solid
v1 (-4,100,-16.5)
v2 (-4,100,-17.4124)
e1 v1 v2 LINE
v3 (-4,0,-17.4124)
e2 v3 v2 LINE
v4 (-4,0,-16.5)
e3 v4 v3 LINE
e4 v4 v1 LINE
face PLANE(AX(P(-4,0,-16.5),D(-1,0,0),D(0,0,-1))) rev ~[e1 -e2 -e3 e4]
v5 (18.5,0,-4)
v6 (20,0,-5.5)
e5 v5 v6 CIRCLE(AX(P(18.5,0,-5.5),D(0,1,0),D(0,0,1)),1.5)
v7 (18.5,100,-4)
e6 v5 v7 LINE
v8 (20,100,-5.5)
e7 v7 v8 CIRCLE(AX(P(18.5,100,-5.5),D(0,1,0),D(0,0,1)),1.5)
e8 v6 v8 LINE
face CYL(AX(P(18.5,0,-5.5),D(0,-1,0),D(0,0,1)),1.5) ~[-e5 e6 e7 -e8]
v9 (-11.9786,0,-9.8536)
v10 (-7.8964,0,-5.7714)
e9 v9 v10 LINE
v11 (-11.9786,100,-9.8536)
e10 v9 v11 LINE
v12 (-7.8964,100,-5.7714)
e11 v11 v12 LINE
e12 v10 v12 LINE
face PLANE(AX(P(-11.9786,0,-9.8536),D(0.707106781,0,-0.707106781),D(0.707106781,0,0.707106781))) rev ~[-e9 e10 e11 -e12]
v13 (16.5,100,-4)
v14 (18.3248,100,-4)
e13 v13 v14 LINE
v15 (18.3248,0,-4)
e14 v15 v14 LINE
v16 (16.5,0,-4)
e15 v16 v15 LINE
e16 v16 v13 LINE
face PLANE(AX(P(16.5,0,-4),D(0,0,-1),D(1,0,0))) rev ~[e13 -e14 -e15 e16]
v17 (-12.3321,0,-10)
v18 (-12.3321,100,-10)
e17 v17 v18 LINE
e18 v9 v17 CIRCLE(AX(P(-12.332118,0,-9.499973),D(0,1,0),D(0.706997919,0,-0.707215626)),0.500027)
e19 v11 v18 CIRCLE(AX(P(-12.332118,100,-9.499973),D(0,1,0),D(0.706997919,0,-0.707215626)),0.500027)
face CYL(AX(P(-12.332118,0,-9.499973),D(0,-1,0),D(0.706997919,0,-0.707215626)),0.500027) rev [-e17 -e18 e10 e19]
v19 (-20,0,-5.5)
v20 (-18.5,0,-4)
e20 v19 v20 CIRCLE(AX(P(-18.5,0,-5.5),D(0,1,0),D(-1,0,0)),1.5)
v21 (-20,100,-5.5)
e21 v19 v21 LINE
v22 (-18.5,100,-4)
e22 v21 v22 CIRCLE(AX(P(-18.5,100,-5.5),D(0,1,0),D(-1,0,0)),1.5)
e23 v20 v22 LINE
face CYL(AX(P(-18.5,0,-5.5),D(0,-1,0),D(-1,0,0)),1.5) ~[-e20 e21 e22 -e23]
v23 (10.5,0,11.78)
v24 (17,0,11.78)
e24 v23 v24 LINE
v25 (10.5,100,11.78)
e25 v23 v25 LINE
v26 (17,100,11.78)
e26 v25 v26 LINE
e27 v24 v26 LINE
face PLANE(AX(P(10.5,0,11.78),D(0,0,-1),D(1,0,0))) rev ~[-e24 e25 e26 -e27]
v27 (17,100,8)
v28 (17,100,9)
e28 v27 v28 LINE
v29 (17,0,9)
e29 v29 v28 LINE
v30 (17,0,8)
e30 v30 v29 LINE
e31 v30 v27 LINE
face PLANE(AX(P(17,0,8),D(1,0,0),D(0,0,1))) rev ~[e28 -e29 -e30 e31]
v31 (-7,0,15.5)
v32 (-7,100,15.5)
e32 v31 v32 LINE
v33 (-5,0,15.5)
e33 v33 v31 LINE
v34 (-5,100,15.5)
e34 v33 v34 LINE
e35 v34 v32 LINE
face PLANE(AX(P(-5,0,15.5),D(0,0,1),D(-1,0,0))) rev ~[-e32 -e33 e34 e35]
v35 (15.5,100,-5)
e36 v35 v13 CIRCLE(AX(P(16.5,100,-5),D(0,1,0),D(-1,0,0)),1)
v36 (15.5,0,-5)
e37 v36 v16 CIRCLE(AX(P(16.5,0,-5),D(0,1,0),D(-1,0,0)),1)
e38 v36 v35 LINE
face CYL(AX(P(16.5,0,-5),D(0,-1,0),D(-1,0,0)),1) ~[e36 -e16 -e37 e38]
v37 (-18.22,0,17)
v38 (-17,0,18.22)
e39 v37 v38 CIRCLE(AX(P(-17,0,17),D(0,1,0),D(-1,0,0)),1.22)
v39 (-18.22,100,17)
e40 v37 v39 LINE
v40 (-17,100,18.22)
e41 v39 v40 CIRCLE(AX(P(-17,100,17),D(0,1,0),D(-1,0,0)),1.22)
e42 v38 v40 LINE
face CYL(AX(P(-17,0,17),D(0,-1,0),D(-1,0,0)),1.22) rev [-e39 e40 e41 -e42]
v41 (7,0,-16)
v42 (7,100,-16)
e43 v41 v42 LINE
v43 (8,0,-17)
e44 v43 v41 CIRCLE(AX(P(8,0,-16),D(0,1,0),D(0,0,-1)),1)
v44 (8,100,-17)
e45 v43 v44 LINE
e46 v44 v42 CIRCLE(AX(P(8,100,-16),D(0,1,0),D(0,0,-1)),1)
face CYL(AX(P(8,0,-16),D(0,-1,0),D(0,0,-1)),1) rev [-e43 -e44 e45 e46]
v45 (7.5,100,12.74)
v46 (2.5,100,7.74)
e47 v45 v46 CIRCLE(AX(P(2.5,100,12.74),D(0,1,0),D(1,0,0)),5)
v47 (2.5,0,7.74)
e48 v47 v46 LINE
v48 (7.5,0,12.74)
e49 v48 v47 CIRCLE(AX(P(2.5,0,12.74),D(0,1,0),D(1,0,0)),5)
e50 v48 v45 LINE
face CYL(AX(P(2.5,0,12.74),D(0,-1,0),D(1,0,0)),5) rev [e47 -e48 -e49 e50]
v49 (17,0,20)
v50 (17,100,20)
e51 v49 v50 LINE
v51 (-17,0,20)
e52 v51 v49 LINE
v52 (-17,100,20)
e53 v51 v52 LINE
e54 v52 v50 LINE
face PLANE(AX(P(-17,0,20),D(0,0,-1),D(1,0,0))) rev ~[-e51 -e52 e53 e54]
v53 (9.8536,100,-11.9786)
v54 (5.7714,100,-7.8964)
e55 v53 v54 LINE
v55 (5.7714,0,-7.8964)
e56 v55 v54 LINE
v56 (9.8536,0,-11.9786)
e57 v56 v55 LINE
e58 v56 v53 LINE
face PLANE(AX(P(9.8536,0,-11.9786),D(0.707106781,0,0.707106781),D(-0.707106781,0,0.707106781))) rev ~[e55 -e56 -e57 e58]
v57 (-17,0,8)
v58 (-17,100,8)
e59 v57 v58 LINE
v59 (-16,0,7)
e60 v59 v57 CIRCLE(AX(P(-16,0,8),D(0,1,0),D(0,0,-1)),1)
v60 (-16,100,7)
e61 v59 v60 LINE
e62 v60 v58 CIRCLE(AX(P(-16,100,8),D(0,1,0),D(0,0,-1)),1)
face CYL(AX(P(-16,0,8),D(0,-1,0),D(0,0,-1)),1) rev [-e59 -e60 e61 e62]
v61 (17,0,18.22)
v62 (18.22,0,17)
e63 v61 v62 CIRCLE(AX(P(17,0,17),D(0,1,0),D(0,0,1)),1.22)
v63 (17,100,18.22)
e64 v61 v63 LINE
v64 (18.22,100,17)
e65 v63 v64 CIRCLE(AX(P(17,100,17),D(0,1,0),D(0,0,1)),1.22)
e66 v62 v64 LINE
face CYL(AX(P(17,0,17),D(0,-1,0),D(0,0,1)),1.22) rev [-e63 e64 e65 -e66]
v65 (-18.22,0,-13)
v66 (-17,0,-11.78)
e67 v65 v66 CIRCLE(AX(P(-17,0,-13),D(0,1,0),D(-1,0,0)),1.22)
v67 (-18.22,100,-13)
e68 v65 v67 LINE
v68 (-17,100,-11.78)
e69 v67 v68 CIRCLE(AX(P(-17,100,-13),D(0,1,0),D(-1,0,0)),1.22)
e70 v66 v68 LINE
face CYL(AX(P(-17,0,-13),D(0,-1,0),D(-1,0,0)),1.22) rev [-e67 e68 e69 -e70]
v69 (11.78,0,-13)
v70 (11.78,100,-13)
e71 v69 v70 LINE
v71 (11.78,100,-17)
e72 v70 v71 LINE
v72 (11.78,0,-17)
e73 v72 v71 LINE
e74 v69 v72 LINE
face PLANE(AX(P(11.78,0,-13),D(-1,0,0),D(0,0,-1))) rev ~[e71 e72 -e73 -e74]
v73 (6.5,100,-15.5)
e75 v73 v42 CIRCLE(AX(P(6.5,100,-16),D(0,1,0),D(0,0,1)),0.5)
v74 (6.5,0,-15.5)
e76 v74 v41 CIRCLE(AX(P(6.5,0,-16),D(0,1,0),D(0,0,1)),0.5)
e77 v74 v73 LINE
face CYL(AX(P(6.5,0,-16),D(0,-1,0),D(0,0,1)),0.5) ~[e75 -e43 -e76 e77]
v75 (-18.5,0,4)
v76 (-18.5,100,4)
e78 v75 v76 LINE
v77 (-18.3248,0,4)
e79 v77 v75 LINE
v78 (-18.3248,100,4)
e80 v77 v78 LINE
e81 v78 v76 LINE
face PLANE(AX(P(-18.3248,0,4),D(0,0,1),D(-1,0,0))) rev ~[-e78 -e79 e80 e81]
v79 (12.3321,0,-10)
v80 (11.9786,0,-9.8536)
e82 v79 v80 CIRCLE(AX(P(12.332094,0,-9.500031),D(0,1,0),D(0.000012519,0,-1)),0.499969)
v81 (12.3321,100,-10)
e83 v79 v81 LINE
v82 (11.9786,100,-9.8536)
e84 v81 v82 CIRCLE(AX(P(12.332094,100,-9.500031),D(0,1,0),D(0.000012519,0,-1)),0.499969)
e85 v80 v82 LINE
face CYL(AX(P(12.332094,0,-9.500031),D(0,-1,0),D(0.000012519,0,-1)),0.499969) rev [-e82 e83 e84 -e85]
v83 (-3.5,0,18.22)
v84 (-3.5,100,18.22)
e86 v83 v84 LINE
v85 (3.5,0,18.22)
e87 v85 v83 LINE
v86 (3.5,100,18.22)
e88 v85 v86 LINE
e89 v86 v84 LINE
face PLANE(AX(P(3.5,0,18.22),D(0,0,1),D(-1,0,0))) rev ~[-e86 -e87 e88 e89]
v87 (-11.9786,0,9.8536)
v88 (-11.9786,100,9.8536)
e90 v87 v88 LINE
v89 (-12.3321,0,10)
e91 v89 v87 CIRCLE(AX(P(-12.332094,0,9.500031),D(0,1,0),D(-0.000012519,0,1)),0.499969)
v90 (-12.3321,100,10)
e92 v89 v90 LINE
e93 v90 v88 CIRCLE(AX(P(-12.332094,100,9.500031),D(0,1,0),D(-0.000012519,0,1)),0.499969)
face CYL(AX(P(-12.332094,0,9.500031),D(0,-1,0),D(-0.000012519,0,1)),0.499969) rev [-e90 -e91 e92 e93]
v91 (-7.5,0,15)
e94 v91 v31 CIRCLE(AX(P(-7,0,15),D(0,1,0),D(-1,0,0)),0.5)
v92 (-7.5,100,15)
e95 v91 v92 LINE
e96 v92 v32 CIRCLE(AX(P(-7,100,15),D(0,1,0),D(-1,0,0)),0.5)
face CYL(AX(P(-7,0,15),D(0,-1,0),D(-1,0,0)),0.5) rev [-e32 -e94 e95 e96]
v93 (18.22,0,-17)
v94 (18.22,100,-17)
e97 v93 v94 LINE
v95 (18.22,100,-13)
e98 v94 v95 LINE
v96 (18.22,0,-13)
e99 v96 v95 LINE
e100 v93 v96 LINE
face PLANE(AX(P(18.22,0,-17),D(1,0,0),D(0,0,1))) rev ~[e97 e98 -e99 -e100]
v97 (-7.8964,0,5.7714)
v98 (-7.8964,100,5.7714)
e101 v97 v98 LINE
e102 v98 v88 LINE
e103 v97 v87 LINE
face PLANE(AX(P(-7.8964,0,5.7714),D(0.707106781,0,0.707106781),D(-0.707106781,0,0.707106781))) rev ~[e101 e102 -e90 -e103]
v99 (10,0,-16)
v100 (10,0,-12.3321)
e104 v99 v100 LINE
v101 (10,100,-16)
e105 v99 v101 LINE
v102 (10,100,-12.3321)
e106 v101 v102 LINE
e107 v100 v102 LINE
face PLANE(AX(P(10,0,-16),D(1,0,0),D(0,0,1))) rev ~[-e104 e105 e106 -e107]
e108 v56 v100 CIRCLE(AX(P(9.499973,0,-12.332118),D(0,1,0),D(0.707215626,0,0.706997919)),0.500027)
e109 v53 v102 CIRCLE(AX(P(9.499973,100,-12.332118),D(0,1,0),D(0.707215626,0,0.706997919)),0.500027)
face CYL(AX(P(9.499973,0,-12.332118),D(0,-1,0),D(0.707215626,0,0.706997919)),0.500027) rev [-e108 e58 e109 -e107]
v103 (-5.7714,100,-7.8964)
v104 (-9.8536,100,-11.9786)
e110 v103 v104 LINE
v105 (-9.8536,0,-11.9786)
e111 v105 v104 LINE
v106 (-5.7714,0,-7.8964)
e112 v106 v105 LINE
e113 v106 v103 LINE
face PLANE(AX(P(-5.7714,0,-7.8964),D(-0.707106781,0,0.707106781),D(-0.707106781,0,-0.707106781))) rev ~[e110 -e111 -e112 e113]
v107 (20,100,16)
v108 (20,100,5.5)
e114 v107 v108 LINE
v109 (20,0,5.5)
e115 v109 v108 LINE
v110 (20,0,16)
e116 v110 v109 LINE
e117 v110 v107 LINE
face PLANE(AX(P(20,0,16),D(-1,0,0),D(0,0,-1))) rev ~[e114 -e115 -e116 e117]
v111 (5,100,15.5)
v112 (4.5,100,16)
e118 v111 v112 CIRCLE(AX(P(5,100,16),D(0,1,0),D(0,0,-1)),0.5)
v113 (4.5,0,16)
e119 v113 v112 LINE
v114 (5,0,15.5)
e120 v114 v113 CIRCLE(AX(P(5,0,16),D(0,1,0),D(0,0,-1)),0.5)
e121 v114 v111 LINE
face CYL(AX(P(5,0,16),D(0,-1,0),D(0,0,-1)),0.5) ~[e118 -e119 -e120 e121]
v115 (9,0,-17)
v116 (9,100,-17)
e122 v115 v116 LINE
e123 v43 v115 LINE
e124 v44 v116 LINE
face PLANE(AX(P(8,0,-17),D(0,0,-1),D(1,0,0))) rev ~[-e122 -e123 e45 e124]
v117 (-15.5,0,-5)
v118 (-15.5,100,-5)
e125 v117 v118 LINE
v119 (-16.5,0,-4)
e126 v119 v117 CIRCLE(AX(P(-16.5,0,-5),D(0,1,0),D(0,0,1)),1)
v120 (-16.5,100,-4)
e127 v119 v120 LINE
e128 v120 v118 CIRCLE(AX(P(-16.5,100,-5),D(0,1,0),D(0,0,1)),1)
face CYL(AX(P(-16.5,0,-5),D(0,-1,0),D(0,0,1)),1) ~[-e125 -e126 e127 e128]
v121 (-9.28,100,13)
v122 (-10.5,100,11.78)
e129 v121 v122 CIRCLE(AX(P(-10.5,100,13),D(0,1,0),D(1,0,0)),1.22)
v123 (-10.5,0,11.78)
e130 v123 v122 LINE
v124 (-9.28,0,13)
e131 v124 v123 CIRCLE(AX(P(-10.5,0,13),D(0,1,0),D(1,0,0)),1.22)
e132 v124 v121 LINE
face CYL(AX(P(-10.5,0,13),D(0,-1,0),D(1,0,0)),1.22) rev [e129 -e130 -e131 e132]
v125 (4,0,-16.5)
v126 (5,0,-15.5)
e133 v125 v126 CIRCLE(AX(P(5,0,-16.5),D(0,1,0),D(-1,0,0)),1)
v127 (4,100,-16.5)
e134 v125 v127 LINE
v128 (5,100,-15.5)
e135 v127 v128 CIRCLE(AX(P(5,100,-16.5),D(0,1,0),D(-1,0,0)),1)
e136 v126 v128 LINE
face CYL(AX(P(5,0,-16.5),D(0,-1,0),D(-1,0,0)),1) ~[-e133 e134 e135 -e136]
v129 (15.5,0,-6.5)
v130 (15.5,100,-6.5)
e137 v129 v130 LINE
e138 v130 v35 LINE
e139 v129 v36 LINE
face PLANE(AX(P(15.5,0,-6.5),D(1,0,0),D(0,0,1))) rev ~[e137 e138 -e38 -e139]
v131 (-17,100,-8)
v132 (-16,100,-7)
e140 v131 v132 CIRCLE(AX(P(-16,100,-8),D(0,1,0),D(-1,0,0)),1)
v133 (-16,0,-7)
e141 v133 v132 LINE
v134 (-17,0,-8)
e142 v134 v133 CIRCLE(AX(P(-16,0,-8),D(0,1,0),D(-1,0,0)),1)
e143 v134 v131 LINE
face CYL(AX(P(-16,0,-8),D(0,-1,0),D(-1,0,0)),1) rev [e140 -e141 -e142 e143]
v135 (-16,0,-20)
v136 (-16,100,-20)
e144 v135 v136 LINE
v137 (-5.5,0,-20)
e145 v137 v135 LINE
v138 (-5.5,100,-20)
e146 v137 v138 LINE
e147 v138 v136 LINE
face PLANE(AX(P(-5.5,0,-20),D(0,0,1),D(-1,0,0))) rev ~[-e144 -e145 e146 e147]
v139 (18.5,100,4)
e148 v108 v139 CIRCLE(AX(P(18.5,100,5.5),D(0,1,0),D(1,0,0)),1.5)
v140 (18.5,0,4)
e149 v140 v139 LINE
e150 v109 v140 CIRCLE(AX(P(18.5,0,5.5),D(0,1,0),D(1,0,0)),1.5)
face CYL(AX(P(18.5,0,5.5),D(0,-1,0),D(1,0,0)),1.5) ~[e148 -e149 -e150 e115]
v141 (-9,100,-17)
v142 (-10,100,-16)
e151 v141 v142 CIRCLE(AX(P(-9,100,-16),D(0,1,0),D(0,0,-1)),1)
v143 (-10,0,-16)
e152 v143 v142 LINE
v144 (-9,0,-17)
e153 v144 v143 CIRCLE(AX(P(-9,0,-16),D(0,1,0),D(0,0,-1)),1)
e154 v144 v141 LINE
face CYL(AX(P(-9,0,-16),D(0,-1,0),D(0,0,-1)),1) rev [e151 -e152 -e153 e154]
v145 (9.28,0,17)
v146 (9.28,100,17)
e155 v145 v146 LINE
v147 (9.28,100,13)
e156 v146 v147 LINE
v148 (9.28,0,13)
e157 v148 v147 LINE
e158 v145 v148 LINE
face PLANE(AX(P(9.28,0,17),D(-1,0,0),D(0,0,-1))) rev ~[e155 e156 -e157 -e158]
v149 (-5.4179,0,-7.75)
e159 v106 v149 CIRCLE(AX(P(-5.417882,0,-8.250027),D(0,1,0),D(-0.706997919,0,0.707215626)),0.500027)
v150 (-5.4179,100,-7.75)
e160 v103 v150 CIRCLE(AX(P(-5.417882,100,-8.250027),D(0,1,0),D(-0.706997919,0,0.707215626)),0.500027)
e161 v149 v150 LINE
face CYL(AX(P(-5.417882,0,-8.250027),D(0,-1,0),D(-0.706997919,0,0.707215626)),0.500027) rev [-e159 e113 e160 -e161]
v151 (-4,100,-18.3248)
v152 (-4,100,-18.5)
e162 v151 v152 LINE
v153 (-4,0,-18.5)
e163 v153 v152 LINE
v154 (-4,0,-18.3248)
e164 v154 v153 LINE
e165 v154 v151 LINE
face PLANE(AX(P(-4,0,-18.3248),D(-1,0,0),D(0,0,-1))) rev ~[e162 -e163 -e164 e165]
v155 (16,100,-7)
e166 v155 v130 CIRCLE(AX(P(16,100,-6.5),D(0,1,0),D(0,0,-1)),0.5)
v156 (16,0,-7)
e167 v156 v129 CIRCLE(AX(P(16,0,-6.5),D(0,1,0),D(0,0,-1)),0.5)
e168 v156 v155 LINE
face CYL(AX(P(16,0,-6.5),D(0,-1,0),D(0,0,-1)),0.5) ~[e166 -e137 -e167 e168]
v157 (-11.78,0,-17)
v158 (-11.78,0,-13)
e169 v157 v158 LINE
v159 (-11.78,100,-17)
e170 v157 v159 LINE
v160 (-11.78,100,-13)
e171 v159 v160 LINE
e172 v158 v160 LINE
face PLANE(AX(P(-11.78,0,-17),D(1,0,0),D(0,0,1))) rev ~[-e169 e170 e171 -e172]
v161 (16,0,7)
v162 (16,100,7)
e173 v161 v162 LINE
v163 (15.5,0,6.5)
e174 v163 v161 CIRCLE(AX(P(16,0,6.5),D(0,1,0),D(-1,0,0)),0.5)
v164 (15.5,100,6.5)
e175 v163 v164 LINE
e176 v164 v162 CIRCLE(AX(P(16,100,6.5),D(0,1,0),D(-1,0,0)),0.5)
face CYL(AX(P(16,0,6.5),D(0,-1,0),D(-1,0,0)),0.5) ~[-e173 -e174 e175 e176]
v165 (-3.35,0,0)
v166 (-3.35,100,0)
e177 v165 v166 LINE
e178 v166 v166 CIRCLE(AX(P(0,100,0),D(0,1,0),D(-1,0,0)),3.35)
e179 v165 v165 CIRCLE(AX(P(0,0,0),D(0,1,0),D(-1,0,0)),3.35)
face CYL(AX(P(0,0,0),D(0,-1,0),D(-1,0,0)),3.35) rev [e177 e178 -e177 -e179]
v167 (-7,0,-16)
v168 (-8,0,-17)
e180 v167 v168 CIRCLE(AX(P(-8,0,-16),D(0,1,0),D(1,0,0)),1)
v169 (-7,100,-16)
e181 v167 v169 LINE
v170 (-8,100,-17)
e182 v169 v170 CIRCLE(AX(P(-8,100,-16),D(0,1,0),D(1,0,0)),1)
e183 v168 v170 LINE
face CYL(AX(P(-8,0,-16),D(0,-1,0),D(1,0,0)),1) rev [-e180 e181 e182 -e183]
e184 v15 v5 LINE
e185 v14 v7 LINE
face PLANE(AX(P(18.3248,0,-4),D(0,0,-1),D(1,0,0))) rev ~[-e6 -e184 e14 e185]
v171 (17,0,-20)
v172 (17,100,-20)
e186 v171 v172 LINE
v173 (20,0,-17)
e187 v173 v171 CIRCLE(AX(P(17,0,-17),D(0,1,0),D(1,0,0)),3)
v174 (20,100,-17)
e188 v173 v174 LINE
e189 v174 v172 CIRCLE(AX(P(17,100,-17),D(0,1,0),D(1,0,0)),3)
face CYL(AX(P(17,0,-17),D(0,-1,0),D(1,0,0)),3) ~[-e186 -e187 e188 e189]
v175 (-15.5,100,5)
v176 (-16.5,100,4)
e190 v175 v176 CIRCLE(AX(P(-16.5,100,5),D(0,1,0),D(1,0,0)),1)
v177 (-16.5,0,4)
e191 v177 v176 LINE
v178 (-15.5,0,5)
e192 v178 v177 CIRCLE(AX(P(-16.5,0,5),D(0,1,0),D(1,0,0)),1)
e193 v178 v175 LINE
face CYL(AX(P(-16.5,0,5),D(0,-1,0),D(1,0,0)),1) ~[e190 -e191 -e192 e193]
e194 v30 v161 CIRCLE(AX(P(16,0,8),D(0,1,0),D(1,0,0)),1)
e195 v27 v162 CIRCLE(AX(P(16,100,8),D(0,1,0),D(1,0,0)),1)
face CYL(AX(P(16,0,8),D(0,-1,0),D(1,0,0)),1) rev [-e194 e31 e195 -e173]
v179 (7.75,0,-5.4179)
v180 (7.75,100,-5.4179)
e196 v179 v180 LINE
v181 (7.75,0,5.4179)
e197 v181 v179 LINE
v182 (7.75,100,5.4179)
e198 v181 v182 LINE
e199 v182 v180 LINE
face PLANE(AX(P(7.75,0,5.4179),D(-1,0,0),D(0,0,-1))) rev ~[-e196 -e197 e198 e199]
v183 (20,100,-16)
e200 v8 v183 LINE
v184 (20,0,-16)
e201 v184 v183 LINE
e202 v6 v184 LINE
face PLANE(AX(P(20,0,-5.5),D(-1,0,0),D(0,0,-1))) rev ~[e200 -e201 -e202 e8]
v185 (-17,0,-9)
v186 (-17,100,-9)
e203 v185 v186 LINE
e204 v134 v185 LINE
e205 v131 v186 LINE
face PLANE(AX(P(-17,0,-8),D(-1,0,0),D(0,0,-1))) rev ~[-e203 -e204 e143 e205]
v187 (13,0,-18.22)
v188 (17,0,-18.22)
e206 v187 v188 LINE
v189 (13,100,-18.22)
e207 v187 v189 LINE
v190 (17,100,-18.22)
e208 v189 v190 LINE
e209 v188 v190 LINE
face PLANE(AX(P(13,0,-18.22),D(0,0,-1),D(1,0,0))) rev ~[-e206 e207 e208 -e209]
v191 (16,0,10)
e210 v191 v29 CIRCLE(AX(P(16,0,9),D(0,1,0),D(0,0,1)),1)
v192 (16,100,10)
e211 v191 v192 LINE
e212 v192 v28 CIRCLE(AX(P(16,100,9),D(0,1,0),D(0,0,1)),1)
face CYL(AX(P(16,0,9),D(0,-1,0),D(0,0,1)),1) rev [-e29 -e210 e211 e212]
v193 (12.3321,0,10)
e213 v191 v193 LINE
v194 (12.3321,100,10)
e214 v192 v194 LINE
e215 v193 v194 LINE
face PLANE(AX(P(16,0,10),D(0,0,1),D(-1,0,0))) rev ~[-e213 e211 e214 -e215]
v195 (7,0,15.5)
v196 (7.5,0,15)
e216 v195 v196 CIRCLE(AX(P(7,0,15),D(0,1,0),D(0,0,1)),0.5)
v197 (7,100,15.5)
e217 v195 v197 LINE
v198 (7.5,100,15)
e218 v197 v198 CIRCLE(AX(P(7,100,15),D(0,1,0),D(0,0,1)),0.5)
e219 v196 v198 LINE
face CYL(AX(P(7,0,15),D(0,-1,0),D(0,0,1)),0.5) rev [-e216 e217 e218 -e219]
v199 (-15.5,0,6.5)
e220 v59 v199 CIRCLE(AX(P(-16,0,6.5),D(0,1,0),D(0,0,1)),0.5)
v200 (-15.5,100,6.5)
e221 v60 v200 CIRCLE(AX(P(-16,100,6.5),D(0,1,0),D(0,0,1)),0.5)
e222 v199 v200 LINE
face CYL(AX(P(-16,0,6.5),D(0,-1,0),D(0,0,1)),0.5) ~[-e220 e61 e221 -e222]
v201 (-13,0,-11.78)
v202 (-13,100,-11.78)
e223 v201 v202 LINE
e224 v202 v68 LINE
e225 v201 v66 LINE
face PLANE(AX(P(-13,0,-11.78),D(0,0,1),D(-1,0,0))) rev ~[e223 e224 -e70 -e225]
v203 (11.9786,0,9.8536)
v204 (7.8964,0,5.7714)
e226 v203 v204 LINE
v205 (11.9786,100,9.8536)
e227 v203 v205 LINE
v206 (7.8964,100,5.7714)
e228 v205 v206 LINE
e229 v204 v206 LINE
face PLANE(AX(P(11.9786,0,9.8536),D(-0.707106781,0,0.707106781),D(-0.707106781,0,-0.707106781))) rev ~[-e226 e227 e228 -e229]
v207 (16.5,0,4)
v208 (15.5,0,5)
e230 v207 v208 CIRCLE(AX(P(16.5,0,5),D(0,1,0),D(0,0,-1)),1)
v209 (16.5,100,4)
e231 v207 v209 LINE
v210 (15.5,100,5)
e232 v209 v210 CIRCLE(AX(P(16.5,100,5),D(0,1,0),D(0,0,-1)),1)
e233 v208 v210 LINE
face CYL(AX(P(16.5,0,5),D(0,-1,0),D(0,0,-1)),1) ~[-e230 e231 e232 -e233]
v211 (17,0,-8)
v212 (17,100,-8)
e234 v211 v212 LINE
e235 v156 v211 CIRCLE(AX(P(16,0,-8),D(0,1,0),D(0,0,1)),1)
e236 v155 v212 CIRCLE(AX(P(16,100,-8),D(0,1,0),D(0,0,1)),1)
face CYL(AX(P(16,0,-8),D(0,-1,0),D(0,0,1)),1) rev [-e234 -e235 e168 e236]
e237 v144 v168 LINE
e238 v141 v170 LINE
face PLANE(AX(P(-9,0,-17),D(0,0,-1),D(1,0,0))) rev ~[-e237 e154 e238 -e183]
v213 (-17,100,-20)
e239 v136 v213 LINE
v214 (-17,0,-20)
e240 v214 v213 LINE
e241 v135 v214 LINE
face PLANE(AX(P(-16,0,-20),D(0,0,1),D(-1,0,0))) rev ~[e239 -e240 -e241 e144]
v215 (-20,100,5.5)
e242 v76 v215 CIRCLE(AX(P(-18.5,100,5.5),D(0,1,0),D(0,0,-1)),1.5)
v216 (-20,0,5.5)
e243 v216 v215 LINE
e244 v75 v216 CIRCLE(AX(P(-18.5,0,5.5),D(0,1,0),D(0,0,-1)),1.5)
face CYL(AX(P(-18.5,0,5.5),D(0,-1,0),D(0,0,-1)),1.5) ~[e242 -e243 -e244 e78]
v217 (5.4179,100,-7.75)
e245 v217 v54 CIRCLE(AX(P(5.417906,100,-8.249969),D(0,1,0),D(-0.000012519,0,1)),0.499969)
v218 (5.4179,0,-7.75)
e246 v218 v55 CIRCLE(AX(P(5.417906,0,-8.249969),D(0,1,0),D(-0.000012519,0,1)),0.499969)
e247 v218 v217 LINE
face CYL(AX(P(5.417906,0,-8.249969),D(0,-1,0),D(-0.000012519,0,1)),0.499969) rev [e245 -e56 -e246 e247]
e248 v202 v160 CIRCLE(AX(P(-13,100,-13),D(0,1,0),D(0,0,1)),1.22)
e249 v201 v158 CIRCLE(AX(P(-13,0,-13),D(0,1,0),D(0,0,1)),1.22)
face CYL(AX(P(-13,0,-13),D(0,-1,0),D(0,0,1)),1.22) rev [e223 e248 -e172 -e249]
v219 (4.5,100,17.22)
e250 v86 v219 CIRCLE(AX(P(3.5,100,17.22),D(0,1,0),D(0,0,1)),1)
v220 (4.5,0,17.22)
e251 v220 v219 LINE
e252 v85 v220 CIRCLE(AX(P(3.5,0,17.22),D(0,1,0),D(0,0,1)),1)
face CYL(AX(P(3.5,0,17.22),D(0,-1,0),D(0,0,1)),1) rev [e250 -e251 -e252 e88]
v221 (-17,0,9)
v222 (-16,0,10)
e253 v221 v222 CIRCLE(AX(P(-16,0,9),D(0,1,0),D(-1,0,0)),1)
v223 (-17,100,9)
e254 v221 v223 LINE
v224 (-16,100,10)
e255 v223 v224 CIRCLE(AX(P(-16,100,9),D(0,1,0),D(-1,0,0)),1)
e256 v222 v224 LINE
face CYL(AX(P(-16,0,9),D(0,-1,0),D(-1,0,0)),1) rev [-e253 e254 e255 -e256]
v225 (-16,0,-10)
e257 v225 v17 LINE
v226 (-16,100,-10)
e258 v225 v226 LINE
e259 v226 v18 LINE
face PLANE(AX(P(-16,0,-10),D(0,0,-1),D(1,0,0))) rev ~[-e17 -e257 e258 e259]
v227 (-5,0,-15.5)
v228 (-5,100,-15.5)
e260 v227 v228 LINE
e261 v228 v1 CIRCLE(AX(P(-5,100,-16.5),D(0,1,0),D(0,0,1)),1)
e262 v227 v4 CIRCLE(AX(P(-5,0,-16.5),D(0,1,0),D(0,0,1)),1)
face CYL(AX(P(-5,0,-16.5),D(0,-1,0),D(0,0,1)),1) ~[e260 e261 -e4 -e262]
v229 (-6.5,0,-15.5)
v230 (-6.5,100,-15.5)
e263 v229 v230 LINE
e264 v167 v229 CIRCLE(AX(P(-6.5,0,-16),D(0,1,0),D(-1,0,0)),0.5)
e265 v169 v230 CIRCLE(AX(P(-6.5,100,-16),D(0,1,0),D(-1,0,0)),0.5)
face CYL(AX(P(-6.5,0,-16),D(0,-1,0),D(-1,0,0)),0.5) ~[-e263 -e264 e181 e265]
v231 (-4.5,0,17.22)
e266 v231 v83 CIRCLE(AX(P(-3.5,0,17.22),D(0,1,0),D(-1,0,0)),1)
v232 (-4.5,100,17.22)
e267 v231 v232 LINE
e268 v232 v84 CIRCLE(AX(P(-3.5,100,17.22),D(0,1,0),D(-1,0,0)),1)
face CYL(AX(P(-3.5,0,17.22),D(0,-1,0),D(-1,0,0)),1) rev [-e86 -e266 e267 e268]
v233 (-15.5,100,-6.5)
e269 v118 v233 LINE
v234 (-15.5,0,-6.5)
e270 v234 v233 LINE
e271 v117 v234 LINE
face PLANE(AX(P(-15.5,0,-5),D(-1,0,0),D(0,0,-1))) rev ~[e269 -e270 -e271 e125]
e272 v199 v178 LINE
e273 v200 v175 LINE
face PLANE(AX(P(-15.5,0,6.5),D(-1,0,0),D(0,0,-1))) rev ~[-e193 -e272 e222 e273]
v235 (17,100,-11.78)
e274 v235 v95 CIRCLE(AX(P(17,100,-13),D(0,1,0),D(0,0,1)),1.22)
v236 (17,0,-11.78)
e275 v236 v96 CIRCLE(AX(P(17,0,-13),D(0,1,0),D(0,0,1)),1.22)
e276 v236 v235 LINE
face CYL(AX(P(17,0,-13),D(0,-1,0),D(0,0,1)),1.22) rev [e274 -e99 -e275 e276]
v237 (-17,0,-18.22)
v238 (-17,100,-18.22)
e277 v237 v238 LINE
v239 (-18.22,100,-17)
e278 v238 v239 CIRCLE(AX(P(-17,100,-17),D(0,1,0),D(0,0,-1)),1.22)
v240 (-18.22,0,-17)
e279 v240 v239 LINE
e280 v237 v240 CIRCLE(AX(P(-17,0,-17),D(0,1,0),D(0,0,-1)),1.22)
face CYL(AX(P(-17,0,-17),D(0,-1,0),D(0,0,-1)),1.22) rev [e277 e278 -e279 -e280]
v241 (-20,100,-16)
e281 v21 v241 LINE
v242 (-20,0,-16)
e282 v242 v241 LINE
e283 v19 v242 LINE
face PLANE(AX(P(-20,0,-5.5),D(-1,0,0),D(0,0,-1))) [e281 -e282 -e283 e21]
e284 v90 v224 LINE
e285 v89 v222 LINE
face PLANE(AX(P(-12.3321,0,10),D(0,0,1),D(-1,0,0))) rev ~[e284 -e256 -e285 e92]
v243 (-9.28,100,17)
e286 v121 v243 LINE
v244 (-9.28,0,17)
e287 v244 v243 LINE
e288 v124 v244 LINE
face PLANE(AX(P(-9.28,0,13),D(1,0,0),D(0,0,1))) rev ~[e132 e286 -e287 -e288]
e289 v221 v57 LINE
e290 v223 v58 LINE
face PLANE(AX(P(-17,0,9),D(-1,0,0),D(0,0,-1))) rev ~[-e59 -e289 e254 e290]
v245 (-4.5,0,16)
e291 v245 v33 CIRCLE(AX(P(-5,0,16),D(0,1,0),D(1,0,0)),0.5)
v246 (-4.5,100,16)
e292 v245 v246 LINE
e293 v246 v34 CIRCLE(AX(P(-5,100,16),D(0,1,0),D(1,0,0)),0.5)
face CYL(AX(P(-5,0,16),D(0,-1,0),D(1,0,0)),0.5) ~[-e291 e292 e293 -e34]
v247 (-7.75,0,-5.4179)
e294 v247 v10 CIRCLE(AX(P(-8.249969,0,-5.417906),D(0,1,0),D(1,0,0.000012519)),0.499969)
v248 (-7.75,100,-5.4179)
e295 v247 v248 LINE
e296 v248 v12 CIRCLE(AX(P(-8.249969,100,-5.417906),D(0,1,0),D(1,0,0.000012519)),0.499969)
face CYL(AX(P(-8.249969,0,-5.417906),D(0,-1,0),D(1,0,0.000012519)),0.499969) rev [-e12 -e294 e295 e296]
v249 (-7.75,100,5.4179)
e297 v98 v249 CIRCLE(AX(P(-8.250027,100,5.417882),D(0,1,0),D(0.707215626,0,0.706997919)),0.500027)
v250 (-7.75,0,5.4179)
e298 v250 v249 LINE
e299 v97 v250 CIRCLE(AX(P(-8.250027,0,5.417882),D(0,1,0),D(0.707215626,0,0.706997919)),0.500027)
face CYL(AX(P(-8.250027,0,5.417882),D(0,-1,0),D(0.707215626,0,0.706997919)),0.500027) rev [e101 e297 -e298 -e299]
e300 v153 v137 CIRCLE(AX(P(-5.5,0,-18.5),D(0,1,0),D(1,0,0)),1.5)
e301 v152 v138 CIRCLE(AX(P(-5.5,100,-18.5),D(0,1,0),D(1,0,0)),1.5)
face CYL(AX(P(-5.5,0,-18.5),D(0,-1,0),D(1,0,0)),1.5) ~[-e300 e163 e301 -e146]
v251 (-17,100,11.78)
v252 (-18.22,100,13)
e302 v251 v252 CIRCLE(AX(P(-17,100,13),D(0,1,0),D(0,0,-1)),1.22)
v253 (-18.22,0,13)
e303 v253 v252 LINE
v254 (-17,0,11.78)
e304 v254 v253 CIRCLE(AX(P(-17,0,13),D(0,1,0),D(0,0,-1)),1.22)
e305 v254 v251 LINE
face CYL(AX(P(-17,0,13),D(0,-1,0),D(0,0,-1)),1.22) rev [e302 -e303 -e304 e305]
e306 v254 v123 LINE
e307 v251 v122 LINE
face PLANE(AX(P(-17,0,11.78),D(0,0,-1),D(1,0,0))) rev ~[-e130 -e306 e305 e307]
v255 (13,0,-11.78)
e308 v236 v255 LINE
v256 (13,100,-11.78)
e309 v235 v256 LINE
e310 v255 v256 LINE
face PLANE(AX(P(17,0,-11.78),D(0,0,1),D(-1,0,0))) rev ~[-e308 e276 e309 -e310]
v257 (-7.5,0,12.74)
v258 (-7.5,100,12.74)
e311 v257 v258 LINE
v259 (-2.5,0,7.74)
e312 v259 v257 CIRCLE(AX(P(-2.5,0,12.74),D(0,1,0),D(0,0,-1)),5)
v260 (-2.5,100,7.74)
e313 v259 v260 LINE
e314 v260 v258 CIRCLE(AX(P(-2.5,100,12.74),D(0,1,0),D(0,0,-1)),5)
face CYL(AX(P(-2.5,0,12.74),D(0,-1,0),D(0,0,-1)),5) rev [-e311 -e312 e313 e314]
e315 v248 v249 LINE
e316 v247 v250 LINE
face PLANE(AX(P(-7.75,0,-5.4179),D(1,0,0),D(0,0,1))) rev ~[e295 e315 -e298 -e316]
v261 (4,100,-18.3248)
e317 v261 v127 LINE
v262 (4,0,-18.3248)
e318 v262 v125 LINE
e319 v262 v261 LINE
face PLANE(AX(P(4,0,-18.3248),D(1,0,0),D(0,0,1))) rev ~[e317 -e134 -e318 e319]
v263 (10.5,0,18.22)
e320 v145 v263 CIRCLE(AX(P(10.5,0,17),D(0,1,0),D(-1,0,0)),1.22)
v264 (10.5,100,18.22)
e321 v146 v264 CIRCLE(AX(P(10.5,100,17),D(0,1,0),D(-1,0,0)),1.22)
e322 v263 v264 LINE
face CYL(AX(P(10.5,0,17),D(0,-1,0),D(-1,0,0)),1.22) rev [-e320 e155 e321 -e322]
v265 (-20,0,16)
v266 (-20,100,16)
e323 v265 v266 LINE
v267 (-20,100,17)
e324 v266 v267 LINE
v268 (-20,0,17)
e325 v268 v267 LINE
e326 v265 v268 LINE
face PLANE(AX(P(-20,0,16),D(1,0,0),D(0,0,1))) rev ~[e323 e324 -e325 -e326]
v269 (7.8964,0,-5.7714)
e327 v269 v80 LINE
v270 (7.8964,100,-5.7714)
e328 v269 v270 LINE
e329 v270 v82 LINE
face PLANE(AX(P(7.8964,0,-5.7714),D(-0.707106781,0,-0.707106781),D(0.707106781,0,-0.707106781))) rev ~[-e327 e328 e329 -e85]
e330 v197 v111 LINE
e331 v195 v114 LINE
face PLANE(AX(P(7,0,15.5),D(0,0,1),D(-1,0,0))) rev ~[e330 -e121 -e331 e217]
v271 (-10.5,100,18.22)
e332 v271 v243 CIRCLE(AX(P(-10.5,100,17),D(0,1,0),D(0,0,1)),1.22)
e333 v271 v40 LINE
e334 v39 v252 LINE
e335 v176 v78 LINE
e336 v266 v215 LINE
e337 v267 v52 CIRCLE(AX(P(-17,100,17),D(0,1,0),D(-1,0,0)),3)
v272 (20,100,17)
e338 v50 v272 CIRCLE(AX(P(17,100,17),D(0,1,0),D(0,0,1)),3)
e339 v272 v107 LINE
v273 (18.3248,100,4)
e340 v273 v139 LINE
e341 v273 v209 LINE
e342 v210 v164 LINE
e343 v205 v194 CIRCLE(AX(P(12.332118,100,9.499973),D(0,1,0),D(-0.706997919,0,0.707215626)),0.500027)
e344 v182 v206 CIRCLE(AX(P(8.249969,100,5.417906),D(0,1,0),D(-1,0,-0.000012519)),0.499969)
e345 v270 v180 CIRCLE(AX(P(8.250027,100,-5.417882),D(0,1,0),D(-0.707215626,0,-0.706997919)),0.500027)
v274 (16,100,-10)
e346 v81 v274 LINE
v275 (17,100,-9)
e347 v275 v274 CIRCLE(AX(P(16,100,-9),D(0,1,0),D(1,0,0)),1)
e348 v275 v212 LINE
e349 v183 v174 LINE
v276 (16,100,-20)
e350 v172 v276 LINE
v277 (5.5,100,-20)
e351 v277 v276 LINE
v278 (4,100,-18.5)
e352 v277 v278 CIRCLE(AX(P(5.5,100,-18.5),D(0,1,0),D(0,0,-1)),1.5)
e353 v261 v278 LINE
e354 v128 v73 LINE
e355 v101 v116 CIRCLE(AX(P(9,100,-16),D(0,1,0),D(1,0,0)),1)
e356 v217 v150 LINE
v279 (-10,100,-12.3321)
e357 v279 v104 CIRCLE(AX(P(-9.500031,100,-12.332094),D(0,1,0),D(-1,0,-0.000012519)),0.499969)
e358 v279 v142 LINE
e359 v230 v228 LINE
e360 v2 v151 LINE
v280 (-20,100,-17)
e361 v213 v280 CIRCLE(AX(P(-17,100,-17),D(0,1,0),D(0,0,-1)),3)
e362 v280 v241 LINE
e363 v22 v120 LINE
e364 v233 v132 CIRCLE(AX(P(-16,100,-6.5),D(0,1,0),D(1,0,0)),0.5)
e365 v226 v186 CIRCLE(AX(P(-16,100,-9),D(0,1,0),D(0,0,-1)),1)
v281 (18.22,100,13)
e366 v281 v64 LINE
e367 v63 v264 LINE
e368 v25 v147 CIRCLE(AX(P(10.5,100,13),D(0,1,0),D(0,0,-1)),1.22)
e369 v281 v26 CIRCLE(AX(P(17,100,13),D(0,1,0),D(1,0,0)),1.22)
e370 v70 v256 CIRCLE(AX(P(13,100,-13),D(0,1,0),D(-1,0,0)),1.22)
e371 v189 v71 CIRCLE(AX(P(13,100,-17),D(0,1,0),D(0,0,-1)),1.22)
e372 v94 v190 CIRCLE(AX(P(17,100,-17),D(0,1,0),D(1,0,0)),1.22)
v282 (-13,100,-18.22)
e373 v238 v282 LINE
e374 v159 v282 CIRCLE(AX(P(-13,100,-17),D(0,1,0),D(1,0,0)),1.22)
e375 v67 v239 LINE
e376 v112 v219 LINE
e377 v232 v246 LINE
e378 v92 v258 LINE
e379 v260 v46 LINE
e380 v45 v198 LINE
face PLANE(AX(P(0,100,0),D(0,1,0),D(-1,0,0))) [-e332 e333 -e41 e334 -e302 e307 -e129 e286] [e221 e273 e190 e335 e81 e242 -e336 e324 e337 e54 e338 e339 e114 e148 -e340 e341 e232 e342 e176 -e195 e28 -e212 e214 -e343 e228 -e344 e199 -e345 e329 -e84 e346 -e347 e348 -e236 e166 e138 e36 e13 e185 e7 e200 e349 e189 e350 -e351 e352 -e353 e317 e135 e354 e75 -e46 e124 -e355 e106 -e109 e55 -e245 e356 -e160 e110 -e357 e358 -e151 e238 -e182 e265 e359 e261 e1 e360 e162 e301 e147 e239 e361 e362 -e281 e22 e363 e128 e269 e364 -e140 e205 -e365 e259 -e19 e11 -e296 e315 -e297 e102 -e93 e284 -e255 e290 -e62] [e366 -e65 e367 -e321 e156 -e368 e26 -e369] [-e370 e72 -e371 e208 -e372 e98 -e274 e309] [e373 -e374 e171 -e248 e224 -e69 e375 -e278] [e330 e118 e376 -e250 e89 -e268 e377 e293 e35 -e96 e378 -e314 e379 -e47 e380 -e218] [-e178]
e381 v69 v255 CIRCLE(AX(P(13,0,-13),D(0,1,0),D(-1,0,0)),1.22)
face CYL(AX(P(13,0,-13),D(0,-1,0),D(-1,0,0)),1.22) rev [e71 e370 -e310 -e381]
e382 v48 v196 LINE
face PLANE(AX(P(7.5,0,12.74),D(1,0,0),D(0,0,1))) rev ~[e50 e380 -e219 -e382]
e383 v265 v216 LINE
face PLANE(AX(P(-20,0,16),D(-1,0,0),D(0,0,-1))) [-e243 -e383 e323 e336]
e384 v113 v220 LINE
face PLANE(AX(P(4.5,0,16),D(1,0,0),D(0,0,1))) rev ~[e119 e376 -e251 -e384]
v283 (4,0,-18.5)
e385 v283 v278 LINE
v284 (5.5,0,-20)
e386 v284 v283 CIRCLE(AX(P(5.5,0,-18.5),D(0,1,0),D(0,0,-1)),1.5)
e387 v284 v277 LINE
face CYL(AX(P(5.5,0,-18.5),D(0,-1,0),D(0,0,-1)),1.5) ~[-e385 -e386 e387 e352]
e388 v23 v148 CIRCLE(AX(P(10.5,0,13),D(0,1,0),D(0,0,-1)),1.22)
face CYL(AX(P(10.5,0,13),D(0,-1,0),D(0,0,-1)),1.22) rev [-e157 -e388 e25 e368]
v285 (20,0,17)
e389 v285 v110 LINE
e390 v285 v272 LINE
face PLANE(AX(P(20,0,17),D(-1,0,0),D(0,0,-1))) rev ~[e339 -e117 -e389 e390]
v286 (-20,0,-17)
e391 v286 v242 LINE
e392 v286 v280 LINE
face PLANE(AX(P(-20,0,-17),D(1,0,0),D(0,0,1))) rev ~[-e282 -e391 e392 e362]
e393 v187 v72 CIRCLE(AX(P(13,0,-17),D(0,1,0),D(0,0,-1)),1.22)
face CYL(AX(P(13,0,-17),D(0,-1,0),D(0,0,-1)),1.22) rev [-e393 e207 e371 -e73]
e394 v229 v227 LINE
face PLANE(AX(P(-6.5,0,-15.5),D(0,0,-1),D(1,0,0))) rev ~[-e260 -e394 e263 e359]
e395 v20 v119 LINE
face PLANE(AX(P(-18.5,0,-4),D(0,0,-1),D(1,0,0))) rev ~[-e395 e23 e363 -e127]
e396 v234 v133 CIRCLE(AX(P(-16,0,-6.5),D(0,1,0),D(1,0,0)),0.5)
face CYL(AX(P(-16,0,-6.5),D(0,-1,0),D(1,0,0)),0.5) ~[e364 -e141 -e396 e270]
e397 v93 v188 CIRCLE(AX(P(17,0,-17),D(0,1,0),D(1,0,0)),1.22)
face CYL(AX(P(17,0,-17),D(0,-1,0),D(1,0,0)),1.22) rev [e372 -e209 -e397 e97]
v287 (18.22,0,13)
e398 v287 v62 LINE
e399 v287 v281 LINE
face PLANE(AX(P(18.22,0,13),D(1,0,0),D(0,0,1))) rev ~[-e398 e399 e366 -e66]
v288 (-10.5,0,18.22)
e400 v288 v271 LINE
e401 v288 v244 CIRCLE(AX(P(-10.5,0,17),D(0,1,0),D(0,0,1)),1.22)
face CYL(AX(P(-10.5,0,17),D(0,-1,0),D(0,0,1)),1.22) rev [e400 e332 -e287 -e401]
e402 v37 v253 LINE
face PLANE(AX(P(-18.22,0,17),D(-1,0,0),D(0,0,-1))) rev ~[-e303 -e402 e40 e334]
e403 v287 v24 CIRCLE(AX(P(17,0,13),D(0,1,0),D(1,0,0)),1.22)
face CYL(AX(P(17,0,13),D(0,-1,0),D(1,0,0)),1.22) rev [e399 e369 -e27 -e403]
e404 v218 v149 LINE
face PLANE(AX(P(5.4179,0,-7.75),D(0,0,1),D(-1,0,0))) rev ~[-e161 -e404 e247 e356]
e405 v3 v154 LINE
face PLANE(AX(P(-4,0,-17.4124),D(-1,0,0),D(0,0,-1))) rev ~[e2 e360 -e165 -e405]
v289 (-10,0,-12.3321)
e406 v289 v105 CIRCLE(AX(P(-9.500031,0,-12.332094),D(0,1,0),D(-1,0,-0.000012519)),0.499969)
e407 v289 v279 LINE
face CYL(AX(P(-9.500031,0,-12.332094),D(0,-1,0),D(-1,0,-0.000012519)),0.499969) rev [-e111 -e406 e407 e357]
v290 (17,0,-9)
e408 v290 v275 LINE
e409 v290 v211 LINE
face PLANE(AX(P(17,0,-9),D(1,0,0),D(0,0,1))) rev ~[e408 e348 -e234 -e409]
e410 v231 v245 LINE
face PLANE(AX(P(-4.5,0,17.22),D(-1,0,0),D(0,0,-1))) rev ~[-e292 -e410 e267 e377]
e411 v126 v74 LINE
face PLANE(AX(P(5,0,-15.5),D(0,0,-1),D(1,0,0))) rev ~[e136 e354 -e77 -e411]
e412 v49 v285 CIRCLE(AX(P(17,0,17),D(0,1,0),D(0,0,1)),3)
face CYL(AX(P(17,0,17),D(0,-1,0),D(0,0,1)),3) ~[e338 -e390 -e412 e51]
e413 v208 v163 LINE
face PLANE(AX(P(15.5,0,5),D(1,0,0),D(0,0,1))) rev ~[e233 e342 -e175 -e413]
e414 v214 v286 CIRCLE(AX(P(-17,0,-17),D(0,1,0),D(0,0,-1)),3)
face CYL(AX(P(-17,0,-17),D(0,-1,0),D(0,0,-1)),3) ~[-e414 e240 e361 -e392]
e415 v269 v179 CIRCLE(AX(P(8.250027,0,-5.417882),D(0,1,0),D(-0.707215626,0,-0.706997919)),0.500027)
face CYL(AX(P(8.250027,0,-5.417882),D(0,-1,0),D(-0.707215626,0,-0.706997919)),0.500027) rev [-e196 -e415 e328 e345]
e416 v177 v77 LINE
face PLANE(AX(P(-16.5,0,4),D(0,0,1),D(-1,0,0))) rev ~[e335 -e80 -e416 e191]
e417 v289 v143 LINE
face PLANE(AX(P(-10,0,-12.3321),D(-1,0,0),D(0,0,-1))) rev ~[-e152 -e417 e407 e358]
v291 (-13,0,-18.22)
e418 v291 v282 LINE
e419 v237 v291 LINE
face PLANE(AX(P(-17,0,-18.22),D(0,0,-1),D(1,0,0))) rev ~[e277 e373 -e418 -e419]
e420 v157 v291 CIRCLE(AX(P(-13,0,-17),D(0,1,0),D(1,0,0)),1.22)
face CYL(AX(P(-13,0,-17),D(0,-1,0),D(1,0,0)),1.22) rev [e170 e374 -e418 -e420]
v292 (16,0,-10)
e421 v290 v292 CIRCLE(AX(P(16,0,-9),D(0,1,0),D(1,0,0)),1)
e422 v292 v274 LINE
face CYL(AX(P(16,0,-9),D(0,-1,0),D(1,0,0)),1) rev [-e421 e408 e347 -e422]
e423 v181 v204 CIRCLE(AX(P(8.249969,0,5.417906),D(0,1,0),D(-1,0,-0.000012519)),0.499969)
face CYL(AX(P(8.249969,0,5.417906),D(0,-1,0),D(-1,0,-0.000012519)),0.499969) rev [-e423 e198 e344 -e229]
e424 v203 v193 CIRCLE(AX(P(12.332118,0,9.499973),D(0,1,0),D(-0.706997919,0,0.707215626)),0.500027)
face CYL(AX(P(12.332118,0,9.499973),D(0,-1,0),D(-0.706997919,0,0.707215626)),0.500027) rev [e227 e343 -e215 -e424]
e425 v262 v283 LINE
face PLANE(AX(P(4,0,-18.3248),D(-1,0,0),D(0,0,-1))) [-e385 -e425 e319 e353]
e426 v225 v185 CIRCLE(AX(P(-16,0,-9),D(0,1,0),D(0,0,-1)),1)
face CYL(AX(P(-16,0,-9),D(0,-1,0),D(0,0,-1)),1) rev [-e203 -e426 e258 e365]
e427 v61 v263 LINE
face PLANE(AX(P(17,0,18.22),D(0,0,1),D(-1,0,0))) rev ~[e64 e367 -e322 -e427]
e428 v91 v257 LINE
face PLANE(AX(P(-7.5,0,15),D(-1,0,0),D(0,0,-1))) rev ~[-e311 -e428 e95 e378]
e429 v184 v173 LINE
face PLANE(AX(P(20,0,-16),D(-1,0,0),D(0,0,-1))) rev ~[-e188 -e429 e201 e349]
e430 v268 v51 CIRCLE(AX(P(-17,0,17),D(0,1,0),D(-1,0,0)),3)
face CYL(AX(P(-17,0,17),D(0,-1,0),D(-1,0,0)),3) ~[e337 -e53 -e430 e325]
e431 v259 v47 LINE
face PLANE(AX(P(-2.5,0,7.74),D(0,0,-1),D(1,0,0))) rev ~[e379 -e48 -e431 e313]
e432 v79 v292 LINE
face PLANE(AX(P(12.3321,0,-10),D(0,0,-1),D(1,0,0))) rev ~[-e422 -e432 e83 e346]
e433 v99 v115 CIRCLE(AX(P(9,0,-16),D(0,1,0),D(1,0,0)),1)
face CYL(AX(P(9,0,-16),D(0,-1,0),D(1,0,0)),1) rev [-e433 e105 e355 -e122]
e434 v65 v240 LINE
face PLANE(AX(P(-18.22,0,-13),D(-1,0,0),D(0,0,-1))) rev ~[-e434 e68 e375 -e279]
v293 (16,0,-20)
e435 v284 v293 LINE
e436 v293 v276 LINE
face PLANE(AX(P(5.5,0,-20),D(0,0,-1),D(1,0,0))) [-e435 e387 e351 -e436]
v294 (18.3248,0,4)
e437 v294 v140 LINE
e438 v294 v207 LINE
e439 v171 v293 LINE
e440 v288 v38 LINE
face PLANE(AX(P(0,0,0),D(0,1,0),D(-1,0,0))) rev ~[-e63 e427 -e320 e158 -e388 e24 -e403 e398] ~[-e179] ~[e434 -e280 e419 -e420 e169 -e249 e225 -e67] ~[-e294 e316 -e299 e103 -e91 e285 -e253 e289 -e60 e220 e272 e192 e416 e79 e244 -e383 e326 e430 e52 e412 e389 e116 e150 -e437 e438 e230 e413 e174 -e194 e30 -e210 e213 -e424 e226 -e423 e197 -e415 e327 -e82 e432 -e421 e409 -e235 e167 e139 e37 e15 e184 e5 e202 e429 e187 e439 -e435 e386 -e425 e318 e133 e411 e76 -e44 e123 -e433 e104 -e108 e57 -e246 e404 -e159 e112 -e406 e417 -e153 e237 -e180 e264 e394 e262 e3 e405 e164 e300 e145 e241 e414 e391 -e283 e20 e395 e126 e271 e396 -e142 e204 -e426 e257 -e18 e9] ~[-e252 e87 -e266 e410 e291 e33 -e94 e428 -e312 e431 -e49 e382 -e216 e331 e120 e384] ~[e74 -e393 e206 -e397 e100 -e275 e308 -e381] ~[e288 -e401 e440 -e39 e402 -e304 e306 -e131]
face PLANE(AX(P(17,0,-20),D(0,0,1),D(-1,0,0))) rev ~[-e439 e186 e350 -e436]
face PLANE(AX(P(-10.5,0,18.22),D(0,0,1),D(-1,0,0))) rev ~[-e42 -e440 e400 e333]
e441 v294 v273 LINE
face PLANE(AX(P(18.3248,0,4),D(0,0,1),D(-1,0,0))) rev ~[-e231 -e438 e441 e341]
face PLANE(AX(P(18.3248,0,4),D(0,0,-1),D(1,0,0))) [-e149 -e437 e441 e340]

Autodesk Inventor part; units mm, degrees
ref_plane "YZ Plane" through (0, 0, 0) normal (1, 0, 0) x (0, 1, 0)
ref_plane "Start Plane" through (0, 0, 0) normal (0, 1, 0) x (-1, 0, 0)
ref_plane "End Plane" through (0, 100, 0) normal (0, 1, 0) x (-1, 0, 0)
sketch "Sketch1" plane through (0, 0, 0) normal (0, 1, 0) x (-1, 0, 0)
  arc A0 (20, 17) -> (17, 20) centre (17, 17) ccw
  line L0 (17, 20) -> (-17, 20)
  arc A1 (-17, 20) -> (-20, 17) centre (-17, 17) ccw
  line L1 (-20, 17) -> (-20, 16)
  line L2 (-18.3248, 4) -> (-16.5, 4)
  arc A2 (-16.5, 4) -> (-15.5, 5) centre (-16.5, 5) ccw
  line L3 (-15.5, 5) -> (-15.5, 6.5)
  arc A3 (-15.5, 6.5) -> (-16, 7) centre (-16, 6.5) ccw
  arc A4 (-17, 8) -> (-16, 7) centre (-16, 8) ccw
  line L4 (-17, 8) -> (-17, 9)
  arc A5 (-16, 10) -> (-17, 9) centre (-16, 9) ccw
  line L5 (-16, 10) -> (-12.3321, 10)
  arc A6 (-11.9786, 9.8536) -> (-12.3321, 10) centre (-12.3321, 9.5) ccw
  line L6 (-11.9786, 9.8536) -> (-7.8964, 5.7714)
  arc A7 (-7.75, 5.4179) -> (-7.8964, 5.7714) centre (-8.25, 5.4179) ccw
  line L7 (-7.75, 5.4179) -> (-7.75, -5.4179)
  arc A8 (-7.8964, -5.7714) -> (-7.75, -5.4179) centre (-8.25, -5.4179) ccw
  line L8 (-7.8964, -5.7714) -> (-11.9786, -9.8536)
  arc A9 (-12.3321, -10) -> (-11.9786, -9.8536) centre (-12.3321, -9.5) ccw
  line L9 (-12.3321, -10) -> (-16, -10)
  arc A10 (-17, -9) -> (-16, -10) centre (-16, -9) ccw
  line L10 (-17, -9) -> (-17, -8)
  arc A11 (-16, -7) -> (-17, -8) centre (-16, -8) ccw
  arc A12 (-16, -7) -> (-15.5, -6.5) centre (-16, -6.5) ccw
  line L11 (-15.5, -6.5) -> (-15.5, -5)
  arc A13 (-15.5, -5) -> (-16.5, -4) centre (-16.5, -5) ccw
  line L12 (-16.5, -4) -> (-18.3248, -4)
  line L13 (-20, -16) -> (-20, -17)
  line L14 (-17, -20) -> (-16, -20)
  arc A14 (-20, -17) -> (-17, -20) centre (-17, -17) ccw
  line L15 (-4, -18.3248) -> (-4, -16.5)
  arc A15 (-4, -16.5) -> (-5, -15.5) centre (-5, -16.5) ccw
  line L16 (-5, -15.5) -> (-6.5, -15.5)
  arc A16 (-6.5, -15.5) -> (-7, -16) centre (-6.5, -16) ccw
  arc A17 (-8, -17) -> (-7, -16) centre (-8, -16) ccw
  line L17 (-8, -17) -> (-9, -17)
  arc A18 (-10, -16) -> (-9, -17) centre (-9, -16) ccw
  line L18 (-10, -16) -> (-10, -12.3321)
  arc A19 (-9.8536, -11.9786) -> (-10, -12.3321) centre (-9.5, -12.3321) ccw
  line L19 (-9.8536, -11.9786) -> (-5.7714, -7.8964)
  arc A20 (-5.4179, -7.75) -> (-5.7714, -7.8964) centre (-5.4179, -8.25) ccw
  line L20 (-5.4179, -7.75) -> (5.4179, -7.75)
  arc A21 (5.7714, -7.8964) -> (5.4179, -7.75) centre (5.4179, -8.25) ccw
  line L21 (5.7714, -7.8964) -> (9.8536, -11.9786)
  arc A22 (10, -12.3321) -> (9.8536, -11.9786) centre (9.5, -12.3321) ccw
  line L22 (10, -12.3321) -> (10, -16)
  arc A23 (9, -17) -> (10, -16) centre (9, -16) ccw
  line L23 (9, -17) -> (8, -17)
  arc A24 (7, -16) -> (8, -17) centre (8, -16) ccw
  arc A25 (7, -16) -> (6.5, -15.5) centre (6.5, -16) ccw
  line L24 (6.5, -15.5) -> (5, -15.5)
  arc A26 (5, -15.5) -> (4, -16.5) centre (5, -16.5) ccw
  line L25 (4, -16.5) -> (4, -18.3248)
  line L26 (16, -20) -> (17, -20)
  line L27 (20, -17) -> (20, -16)
  line L28 (18.5, -4) -> (16.5, -4)
  arc A27 (16.5, -4) -> (15.5, -5) centre (16.5, -5) ccw
  line L29 (15.5, -5) -> (15.5, -6.5)
  arc A28 (15.5, -6.5) -> (16, -7) centre (16, -6.5) ccw
  arc A29 (17, -8) -> (16, -7) centre (16, -8) ccw
  line L30 (17, -8) -> (17, -9)
  arc A30 (16, -10) -> (17, -9) centre (16, -9) ccw
  line L31 (16, -10) -> (12.3321, -10)
  arc A31 (11.9786, -9.8536) -> (12.3321, -10) centre (12.3321, -9.5) ccw
  line L32 (11.9786, -9.8536) -> (7.8964, -5.7714)
  arc A32 (7.75, -5.4179) -> (7.8964, -5.7714) centre (8.25, -5.4179) ccw
  line L33 (7.75, -5.4179) -> (7.75, 5.4179)
  arc A33 (7.8964, 5.7714) -> (7.75, 5.4179) centre (8.25, 5.4179) ccw
  line L34 (7.8964, 5.7714) -> (11.9786, 9.8536)
  arc A34 (12.3321, 10) -> (11.9786, 9.8536) centre (12.3321, 9.5) ccw
  line L35 (12.3321, 10) -> (16, 10)
  arc A35 (17, 9) -> (16, 10) centre (16, 9) ccw
  line L36 (17, 9) -> (17, 8)
  arc A36 (16, 7) -> (17, 8) centre (16, 8) ccw
  arc A37 (16, 7) -> (15.5, 6.5) centre (16, 6.5) ccw
  line L37 (15.5, 6.5) -> (15.5, 5)
  arc A38 (15.5, 5) -> (16.5, 4) centre (16.5, 5) ccw
  line L38 (16.5, 4) -> (18.3248, 4)
  line L39 (20, 16) -> (20, 17)
  arc A39 (-5, 15.5) -> (-4.5, 16) centre (-5, 16) ccw
  line L40 (-4.5, 16) -> (-4.5, 17.22)
  arc A40 (-3.5, 18.22) -> (-4.5, 17.22) centre (-3.5, 17.22) ccw
  line L41 (-3.5, 18.22) -> (3.5, 18.22)
  arc A41 (4.5, 17.22) -> (3.5, 18.22) centre (3.5, 17.22) ccw
  line L42 (4.5, 17.22) -> (4.5, 16)
  arc A42 (4.5, 16) -> (5, 15.5) centre (5, 16) ccw
  line L43 (5, 15.5) -> (7, 15.5)
  arc A43 (7.5, 15) -> (7, 15.5) centre (7, 15) ccw
  line L44 (7.5, 15) -> (7.5, 12.74)
  arc A44 (2.5, 7.74) -> (7.5, 12.74) centre (2.5, 12.74) ccw
  line L45 (2.5, 7.74) -> (-2.5, 7.74)
  arc A45 (-7.5, 12.74) -> (-2.5, 7.74) centre (-2.5, 12.74) ccw
  line L46 (-7.5, 12.74) -> (-7.5, 15)
  arc A46 (-7, 15.5) -> (-7.5, 15) centre (-7, 15) ccw
  line L47 (-7, 15.5) -> (-5, 15.5)
  line L48 (18.22, -13) -> (18.22, -17)
  arc A47 (17, -18.22) -> (18.22, -17) centre (17, -17) ccw
  line L49 (17, -18.22) -> (13, -18.22)
  arc A48 (11.78, -17) -> (13, -18.22) centre (13, -17) ccw
  line L50 (11.78, -17) -> (11.78, -13)
  arc A49 (13, -11.78) -> (11.78, -13) centre (13, -13) ccw
  line L51 (13, -11.78) -> (17, -11.78)
  arc A50 (18.22, -13) -> (17, -11.78) centre (17, -13) ccw
  line L52 (18.22, 17) -> (18.22, 13)
  arc A51 (17, 11.78) -> (18.22, 13) centre (17, 13) ccw
  line L53 (17, 11.78) -> (10.5, 11.78)
  arc A52 (9.28, 13) -> (10.5, 11.78) centre (10.5, 13) ccw
  line L54 (9.28, 13) -> (9.28, 17)
  arc A53 (10.5, 18.22) -> (9.28, 17) centre (10.5, 17) ccw
  line L55 (10.5, 18.22) -> (17, 18.22)
  arc A54 (18.22, 17) -> (17, 18.22) centre (17, 17) ccw
  line L56 (-17, -11.78) -> (-13, -11.78)
  arc A55 (-11.78, -13) -> (-13, -11.78) centre (-13, -13) ccw
  line L57 (-11.78, -13) -> (-11.78, -17)
  arc A56 (-13, -18.22) -> (-11.78, -17) centre (-13, -17) ccw
  line L58 (-13, -18.22) -> (-17, -18.22)
  arc A57 (-18.22, -17) -> (-17, -18.22) centre (-17, -17) ccw
  line L59 (-18.22, -17) -> (-18.22, -13)
  arc A58 (-17, -11.78) -> (-18.22, -13) centre (-17, -13) ccw
  line L60 (-9.28, 17) -> (-9.28, 13)
  arc A59 (-10.5, 11.78) -> (-9.28, 13) centre (-10.5, 13) ccw
  line L61 (-10.5, 11.78) -> (-17, 11.78)
  arc A60 (-18.22, 13) -> (-17, 11.78) centre (-17, 13) ccw
  line L62 (-18.22, 13) -> (-18.22, 17)
  arc A61 (-17, 18.22) -> (-18.22, 17) centre (-17, 17) ccw
  line L63 (-17, 18.22) -> (-10.5, 18.22)
  arc A62 (-9.28, 17) -> (-10.5, 18.22) centre (-10.5, 17) ccw
  circle A63 centre (0, 0) radius 3.35
  line L64 (20, -5.5) -> (20, -17)
  arc A64 (20, -5.5) -> (18.5, -4) centre (18.5, -5.5) ccw
  line L65 (-20, -5.5) -> (-20, -17)
  arc A65 (-18.5, -4) -> (-20, -5.5) centre (-18.5, -5.5) ccw
  line L66 (-16.5, -4) -> (-18.5, -4)
  arc A66 (-5.5, -20) -> (-4, -18.5) centre (-5.5, -18.5) ccw
  line L67 (-4, -16.5) -> (-4, -18.5)
  line L68 (-5.5, -20) -> (-17, -20)
  line L69 (5.5, -20) -> (17, -20)
  arc A67 (4, -18.5) -> (5.5, -20) centre (5.5, -18.5) ccw
  arc A68 (17, -20) -> (20, -17) centre (17, -17) ccw
  line L70 (4, -17.4124) -> (4, -18.5)
  line L71 (20, 17) -> (20, 5.5)
  line L72 (16.5, 4) -> (18.5, 4)
  arc A69 (18.5, 4) -> (20, 5.5) centre (18.5, 5.5) ccw
  line L73 (-20, 17) -> (-20, 5.5)
  line L74 (-16.5, 4) -> (-18.5, 4)
  arc A70 (-20, 5.5) -> (-18.5, 4) centre (-18.5, 5.5) ccw
extrude "Body" add sketch "Sketch1" along normal up to surface (100 mm away) from surface at 0
sketch "Sketch2" plane through (0, 0, 0) normal (0, 1, 0) x (-1, 0, 0)
  line L0 (0, 0) -> (10, 0)
ref_plane "Work Plane3" through (0, 0, 0) normal (0, 0, -1) x (-1, 0, 0)
sketch "Sketch3" plane through (0, 0, 0) normal (0, 0, -1) x (-1, 0, 0)
  line L0 (-28, 0) -> (28, 0)
  line L1 (-28, 100) -> (28, 100)
  dimension "d7" = 100
equation "\"G_OFFSET_START\" = 0"
equation "\"G_OFFSET_END\" = 0"
equation "\"G_L\" = d7"
properties part number "10-340"
